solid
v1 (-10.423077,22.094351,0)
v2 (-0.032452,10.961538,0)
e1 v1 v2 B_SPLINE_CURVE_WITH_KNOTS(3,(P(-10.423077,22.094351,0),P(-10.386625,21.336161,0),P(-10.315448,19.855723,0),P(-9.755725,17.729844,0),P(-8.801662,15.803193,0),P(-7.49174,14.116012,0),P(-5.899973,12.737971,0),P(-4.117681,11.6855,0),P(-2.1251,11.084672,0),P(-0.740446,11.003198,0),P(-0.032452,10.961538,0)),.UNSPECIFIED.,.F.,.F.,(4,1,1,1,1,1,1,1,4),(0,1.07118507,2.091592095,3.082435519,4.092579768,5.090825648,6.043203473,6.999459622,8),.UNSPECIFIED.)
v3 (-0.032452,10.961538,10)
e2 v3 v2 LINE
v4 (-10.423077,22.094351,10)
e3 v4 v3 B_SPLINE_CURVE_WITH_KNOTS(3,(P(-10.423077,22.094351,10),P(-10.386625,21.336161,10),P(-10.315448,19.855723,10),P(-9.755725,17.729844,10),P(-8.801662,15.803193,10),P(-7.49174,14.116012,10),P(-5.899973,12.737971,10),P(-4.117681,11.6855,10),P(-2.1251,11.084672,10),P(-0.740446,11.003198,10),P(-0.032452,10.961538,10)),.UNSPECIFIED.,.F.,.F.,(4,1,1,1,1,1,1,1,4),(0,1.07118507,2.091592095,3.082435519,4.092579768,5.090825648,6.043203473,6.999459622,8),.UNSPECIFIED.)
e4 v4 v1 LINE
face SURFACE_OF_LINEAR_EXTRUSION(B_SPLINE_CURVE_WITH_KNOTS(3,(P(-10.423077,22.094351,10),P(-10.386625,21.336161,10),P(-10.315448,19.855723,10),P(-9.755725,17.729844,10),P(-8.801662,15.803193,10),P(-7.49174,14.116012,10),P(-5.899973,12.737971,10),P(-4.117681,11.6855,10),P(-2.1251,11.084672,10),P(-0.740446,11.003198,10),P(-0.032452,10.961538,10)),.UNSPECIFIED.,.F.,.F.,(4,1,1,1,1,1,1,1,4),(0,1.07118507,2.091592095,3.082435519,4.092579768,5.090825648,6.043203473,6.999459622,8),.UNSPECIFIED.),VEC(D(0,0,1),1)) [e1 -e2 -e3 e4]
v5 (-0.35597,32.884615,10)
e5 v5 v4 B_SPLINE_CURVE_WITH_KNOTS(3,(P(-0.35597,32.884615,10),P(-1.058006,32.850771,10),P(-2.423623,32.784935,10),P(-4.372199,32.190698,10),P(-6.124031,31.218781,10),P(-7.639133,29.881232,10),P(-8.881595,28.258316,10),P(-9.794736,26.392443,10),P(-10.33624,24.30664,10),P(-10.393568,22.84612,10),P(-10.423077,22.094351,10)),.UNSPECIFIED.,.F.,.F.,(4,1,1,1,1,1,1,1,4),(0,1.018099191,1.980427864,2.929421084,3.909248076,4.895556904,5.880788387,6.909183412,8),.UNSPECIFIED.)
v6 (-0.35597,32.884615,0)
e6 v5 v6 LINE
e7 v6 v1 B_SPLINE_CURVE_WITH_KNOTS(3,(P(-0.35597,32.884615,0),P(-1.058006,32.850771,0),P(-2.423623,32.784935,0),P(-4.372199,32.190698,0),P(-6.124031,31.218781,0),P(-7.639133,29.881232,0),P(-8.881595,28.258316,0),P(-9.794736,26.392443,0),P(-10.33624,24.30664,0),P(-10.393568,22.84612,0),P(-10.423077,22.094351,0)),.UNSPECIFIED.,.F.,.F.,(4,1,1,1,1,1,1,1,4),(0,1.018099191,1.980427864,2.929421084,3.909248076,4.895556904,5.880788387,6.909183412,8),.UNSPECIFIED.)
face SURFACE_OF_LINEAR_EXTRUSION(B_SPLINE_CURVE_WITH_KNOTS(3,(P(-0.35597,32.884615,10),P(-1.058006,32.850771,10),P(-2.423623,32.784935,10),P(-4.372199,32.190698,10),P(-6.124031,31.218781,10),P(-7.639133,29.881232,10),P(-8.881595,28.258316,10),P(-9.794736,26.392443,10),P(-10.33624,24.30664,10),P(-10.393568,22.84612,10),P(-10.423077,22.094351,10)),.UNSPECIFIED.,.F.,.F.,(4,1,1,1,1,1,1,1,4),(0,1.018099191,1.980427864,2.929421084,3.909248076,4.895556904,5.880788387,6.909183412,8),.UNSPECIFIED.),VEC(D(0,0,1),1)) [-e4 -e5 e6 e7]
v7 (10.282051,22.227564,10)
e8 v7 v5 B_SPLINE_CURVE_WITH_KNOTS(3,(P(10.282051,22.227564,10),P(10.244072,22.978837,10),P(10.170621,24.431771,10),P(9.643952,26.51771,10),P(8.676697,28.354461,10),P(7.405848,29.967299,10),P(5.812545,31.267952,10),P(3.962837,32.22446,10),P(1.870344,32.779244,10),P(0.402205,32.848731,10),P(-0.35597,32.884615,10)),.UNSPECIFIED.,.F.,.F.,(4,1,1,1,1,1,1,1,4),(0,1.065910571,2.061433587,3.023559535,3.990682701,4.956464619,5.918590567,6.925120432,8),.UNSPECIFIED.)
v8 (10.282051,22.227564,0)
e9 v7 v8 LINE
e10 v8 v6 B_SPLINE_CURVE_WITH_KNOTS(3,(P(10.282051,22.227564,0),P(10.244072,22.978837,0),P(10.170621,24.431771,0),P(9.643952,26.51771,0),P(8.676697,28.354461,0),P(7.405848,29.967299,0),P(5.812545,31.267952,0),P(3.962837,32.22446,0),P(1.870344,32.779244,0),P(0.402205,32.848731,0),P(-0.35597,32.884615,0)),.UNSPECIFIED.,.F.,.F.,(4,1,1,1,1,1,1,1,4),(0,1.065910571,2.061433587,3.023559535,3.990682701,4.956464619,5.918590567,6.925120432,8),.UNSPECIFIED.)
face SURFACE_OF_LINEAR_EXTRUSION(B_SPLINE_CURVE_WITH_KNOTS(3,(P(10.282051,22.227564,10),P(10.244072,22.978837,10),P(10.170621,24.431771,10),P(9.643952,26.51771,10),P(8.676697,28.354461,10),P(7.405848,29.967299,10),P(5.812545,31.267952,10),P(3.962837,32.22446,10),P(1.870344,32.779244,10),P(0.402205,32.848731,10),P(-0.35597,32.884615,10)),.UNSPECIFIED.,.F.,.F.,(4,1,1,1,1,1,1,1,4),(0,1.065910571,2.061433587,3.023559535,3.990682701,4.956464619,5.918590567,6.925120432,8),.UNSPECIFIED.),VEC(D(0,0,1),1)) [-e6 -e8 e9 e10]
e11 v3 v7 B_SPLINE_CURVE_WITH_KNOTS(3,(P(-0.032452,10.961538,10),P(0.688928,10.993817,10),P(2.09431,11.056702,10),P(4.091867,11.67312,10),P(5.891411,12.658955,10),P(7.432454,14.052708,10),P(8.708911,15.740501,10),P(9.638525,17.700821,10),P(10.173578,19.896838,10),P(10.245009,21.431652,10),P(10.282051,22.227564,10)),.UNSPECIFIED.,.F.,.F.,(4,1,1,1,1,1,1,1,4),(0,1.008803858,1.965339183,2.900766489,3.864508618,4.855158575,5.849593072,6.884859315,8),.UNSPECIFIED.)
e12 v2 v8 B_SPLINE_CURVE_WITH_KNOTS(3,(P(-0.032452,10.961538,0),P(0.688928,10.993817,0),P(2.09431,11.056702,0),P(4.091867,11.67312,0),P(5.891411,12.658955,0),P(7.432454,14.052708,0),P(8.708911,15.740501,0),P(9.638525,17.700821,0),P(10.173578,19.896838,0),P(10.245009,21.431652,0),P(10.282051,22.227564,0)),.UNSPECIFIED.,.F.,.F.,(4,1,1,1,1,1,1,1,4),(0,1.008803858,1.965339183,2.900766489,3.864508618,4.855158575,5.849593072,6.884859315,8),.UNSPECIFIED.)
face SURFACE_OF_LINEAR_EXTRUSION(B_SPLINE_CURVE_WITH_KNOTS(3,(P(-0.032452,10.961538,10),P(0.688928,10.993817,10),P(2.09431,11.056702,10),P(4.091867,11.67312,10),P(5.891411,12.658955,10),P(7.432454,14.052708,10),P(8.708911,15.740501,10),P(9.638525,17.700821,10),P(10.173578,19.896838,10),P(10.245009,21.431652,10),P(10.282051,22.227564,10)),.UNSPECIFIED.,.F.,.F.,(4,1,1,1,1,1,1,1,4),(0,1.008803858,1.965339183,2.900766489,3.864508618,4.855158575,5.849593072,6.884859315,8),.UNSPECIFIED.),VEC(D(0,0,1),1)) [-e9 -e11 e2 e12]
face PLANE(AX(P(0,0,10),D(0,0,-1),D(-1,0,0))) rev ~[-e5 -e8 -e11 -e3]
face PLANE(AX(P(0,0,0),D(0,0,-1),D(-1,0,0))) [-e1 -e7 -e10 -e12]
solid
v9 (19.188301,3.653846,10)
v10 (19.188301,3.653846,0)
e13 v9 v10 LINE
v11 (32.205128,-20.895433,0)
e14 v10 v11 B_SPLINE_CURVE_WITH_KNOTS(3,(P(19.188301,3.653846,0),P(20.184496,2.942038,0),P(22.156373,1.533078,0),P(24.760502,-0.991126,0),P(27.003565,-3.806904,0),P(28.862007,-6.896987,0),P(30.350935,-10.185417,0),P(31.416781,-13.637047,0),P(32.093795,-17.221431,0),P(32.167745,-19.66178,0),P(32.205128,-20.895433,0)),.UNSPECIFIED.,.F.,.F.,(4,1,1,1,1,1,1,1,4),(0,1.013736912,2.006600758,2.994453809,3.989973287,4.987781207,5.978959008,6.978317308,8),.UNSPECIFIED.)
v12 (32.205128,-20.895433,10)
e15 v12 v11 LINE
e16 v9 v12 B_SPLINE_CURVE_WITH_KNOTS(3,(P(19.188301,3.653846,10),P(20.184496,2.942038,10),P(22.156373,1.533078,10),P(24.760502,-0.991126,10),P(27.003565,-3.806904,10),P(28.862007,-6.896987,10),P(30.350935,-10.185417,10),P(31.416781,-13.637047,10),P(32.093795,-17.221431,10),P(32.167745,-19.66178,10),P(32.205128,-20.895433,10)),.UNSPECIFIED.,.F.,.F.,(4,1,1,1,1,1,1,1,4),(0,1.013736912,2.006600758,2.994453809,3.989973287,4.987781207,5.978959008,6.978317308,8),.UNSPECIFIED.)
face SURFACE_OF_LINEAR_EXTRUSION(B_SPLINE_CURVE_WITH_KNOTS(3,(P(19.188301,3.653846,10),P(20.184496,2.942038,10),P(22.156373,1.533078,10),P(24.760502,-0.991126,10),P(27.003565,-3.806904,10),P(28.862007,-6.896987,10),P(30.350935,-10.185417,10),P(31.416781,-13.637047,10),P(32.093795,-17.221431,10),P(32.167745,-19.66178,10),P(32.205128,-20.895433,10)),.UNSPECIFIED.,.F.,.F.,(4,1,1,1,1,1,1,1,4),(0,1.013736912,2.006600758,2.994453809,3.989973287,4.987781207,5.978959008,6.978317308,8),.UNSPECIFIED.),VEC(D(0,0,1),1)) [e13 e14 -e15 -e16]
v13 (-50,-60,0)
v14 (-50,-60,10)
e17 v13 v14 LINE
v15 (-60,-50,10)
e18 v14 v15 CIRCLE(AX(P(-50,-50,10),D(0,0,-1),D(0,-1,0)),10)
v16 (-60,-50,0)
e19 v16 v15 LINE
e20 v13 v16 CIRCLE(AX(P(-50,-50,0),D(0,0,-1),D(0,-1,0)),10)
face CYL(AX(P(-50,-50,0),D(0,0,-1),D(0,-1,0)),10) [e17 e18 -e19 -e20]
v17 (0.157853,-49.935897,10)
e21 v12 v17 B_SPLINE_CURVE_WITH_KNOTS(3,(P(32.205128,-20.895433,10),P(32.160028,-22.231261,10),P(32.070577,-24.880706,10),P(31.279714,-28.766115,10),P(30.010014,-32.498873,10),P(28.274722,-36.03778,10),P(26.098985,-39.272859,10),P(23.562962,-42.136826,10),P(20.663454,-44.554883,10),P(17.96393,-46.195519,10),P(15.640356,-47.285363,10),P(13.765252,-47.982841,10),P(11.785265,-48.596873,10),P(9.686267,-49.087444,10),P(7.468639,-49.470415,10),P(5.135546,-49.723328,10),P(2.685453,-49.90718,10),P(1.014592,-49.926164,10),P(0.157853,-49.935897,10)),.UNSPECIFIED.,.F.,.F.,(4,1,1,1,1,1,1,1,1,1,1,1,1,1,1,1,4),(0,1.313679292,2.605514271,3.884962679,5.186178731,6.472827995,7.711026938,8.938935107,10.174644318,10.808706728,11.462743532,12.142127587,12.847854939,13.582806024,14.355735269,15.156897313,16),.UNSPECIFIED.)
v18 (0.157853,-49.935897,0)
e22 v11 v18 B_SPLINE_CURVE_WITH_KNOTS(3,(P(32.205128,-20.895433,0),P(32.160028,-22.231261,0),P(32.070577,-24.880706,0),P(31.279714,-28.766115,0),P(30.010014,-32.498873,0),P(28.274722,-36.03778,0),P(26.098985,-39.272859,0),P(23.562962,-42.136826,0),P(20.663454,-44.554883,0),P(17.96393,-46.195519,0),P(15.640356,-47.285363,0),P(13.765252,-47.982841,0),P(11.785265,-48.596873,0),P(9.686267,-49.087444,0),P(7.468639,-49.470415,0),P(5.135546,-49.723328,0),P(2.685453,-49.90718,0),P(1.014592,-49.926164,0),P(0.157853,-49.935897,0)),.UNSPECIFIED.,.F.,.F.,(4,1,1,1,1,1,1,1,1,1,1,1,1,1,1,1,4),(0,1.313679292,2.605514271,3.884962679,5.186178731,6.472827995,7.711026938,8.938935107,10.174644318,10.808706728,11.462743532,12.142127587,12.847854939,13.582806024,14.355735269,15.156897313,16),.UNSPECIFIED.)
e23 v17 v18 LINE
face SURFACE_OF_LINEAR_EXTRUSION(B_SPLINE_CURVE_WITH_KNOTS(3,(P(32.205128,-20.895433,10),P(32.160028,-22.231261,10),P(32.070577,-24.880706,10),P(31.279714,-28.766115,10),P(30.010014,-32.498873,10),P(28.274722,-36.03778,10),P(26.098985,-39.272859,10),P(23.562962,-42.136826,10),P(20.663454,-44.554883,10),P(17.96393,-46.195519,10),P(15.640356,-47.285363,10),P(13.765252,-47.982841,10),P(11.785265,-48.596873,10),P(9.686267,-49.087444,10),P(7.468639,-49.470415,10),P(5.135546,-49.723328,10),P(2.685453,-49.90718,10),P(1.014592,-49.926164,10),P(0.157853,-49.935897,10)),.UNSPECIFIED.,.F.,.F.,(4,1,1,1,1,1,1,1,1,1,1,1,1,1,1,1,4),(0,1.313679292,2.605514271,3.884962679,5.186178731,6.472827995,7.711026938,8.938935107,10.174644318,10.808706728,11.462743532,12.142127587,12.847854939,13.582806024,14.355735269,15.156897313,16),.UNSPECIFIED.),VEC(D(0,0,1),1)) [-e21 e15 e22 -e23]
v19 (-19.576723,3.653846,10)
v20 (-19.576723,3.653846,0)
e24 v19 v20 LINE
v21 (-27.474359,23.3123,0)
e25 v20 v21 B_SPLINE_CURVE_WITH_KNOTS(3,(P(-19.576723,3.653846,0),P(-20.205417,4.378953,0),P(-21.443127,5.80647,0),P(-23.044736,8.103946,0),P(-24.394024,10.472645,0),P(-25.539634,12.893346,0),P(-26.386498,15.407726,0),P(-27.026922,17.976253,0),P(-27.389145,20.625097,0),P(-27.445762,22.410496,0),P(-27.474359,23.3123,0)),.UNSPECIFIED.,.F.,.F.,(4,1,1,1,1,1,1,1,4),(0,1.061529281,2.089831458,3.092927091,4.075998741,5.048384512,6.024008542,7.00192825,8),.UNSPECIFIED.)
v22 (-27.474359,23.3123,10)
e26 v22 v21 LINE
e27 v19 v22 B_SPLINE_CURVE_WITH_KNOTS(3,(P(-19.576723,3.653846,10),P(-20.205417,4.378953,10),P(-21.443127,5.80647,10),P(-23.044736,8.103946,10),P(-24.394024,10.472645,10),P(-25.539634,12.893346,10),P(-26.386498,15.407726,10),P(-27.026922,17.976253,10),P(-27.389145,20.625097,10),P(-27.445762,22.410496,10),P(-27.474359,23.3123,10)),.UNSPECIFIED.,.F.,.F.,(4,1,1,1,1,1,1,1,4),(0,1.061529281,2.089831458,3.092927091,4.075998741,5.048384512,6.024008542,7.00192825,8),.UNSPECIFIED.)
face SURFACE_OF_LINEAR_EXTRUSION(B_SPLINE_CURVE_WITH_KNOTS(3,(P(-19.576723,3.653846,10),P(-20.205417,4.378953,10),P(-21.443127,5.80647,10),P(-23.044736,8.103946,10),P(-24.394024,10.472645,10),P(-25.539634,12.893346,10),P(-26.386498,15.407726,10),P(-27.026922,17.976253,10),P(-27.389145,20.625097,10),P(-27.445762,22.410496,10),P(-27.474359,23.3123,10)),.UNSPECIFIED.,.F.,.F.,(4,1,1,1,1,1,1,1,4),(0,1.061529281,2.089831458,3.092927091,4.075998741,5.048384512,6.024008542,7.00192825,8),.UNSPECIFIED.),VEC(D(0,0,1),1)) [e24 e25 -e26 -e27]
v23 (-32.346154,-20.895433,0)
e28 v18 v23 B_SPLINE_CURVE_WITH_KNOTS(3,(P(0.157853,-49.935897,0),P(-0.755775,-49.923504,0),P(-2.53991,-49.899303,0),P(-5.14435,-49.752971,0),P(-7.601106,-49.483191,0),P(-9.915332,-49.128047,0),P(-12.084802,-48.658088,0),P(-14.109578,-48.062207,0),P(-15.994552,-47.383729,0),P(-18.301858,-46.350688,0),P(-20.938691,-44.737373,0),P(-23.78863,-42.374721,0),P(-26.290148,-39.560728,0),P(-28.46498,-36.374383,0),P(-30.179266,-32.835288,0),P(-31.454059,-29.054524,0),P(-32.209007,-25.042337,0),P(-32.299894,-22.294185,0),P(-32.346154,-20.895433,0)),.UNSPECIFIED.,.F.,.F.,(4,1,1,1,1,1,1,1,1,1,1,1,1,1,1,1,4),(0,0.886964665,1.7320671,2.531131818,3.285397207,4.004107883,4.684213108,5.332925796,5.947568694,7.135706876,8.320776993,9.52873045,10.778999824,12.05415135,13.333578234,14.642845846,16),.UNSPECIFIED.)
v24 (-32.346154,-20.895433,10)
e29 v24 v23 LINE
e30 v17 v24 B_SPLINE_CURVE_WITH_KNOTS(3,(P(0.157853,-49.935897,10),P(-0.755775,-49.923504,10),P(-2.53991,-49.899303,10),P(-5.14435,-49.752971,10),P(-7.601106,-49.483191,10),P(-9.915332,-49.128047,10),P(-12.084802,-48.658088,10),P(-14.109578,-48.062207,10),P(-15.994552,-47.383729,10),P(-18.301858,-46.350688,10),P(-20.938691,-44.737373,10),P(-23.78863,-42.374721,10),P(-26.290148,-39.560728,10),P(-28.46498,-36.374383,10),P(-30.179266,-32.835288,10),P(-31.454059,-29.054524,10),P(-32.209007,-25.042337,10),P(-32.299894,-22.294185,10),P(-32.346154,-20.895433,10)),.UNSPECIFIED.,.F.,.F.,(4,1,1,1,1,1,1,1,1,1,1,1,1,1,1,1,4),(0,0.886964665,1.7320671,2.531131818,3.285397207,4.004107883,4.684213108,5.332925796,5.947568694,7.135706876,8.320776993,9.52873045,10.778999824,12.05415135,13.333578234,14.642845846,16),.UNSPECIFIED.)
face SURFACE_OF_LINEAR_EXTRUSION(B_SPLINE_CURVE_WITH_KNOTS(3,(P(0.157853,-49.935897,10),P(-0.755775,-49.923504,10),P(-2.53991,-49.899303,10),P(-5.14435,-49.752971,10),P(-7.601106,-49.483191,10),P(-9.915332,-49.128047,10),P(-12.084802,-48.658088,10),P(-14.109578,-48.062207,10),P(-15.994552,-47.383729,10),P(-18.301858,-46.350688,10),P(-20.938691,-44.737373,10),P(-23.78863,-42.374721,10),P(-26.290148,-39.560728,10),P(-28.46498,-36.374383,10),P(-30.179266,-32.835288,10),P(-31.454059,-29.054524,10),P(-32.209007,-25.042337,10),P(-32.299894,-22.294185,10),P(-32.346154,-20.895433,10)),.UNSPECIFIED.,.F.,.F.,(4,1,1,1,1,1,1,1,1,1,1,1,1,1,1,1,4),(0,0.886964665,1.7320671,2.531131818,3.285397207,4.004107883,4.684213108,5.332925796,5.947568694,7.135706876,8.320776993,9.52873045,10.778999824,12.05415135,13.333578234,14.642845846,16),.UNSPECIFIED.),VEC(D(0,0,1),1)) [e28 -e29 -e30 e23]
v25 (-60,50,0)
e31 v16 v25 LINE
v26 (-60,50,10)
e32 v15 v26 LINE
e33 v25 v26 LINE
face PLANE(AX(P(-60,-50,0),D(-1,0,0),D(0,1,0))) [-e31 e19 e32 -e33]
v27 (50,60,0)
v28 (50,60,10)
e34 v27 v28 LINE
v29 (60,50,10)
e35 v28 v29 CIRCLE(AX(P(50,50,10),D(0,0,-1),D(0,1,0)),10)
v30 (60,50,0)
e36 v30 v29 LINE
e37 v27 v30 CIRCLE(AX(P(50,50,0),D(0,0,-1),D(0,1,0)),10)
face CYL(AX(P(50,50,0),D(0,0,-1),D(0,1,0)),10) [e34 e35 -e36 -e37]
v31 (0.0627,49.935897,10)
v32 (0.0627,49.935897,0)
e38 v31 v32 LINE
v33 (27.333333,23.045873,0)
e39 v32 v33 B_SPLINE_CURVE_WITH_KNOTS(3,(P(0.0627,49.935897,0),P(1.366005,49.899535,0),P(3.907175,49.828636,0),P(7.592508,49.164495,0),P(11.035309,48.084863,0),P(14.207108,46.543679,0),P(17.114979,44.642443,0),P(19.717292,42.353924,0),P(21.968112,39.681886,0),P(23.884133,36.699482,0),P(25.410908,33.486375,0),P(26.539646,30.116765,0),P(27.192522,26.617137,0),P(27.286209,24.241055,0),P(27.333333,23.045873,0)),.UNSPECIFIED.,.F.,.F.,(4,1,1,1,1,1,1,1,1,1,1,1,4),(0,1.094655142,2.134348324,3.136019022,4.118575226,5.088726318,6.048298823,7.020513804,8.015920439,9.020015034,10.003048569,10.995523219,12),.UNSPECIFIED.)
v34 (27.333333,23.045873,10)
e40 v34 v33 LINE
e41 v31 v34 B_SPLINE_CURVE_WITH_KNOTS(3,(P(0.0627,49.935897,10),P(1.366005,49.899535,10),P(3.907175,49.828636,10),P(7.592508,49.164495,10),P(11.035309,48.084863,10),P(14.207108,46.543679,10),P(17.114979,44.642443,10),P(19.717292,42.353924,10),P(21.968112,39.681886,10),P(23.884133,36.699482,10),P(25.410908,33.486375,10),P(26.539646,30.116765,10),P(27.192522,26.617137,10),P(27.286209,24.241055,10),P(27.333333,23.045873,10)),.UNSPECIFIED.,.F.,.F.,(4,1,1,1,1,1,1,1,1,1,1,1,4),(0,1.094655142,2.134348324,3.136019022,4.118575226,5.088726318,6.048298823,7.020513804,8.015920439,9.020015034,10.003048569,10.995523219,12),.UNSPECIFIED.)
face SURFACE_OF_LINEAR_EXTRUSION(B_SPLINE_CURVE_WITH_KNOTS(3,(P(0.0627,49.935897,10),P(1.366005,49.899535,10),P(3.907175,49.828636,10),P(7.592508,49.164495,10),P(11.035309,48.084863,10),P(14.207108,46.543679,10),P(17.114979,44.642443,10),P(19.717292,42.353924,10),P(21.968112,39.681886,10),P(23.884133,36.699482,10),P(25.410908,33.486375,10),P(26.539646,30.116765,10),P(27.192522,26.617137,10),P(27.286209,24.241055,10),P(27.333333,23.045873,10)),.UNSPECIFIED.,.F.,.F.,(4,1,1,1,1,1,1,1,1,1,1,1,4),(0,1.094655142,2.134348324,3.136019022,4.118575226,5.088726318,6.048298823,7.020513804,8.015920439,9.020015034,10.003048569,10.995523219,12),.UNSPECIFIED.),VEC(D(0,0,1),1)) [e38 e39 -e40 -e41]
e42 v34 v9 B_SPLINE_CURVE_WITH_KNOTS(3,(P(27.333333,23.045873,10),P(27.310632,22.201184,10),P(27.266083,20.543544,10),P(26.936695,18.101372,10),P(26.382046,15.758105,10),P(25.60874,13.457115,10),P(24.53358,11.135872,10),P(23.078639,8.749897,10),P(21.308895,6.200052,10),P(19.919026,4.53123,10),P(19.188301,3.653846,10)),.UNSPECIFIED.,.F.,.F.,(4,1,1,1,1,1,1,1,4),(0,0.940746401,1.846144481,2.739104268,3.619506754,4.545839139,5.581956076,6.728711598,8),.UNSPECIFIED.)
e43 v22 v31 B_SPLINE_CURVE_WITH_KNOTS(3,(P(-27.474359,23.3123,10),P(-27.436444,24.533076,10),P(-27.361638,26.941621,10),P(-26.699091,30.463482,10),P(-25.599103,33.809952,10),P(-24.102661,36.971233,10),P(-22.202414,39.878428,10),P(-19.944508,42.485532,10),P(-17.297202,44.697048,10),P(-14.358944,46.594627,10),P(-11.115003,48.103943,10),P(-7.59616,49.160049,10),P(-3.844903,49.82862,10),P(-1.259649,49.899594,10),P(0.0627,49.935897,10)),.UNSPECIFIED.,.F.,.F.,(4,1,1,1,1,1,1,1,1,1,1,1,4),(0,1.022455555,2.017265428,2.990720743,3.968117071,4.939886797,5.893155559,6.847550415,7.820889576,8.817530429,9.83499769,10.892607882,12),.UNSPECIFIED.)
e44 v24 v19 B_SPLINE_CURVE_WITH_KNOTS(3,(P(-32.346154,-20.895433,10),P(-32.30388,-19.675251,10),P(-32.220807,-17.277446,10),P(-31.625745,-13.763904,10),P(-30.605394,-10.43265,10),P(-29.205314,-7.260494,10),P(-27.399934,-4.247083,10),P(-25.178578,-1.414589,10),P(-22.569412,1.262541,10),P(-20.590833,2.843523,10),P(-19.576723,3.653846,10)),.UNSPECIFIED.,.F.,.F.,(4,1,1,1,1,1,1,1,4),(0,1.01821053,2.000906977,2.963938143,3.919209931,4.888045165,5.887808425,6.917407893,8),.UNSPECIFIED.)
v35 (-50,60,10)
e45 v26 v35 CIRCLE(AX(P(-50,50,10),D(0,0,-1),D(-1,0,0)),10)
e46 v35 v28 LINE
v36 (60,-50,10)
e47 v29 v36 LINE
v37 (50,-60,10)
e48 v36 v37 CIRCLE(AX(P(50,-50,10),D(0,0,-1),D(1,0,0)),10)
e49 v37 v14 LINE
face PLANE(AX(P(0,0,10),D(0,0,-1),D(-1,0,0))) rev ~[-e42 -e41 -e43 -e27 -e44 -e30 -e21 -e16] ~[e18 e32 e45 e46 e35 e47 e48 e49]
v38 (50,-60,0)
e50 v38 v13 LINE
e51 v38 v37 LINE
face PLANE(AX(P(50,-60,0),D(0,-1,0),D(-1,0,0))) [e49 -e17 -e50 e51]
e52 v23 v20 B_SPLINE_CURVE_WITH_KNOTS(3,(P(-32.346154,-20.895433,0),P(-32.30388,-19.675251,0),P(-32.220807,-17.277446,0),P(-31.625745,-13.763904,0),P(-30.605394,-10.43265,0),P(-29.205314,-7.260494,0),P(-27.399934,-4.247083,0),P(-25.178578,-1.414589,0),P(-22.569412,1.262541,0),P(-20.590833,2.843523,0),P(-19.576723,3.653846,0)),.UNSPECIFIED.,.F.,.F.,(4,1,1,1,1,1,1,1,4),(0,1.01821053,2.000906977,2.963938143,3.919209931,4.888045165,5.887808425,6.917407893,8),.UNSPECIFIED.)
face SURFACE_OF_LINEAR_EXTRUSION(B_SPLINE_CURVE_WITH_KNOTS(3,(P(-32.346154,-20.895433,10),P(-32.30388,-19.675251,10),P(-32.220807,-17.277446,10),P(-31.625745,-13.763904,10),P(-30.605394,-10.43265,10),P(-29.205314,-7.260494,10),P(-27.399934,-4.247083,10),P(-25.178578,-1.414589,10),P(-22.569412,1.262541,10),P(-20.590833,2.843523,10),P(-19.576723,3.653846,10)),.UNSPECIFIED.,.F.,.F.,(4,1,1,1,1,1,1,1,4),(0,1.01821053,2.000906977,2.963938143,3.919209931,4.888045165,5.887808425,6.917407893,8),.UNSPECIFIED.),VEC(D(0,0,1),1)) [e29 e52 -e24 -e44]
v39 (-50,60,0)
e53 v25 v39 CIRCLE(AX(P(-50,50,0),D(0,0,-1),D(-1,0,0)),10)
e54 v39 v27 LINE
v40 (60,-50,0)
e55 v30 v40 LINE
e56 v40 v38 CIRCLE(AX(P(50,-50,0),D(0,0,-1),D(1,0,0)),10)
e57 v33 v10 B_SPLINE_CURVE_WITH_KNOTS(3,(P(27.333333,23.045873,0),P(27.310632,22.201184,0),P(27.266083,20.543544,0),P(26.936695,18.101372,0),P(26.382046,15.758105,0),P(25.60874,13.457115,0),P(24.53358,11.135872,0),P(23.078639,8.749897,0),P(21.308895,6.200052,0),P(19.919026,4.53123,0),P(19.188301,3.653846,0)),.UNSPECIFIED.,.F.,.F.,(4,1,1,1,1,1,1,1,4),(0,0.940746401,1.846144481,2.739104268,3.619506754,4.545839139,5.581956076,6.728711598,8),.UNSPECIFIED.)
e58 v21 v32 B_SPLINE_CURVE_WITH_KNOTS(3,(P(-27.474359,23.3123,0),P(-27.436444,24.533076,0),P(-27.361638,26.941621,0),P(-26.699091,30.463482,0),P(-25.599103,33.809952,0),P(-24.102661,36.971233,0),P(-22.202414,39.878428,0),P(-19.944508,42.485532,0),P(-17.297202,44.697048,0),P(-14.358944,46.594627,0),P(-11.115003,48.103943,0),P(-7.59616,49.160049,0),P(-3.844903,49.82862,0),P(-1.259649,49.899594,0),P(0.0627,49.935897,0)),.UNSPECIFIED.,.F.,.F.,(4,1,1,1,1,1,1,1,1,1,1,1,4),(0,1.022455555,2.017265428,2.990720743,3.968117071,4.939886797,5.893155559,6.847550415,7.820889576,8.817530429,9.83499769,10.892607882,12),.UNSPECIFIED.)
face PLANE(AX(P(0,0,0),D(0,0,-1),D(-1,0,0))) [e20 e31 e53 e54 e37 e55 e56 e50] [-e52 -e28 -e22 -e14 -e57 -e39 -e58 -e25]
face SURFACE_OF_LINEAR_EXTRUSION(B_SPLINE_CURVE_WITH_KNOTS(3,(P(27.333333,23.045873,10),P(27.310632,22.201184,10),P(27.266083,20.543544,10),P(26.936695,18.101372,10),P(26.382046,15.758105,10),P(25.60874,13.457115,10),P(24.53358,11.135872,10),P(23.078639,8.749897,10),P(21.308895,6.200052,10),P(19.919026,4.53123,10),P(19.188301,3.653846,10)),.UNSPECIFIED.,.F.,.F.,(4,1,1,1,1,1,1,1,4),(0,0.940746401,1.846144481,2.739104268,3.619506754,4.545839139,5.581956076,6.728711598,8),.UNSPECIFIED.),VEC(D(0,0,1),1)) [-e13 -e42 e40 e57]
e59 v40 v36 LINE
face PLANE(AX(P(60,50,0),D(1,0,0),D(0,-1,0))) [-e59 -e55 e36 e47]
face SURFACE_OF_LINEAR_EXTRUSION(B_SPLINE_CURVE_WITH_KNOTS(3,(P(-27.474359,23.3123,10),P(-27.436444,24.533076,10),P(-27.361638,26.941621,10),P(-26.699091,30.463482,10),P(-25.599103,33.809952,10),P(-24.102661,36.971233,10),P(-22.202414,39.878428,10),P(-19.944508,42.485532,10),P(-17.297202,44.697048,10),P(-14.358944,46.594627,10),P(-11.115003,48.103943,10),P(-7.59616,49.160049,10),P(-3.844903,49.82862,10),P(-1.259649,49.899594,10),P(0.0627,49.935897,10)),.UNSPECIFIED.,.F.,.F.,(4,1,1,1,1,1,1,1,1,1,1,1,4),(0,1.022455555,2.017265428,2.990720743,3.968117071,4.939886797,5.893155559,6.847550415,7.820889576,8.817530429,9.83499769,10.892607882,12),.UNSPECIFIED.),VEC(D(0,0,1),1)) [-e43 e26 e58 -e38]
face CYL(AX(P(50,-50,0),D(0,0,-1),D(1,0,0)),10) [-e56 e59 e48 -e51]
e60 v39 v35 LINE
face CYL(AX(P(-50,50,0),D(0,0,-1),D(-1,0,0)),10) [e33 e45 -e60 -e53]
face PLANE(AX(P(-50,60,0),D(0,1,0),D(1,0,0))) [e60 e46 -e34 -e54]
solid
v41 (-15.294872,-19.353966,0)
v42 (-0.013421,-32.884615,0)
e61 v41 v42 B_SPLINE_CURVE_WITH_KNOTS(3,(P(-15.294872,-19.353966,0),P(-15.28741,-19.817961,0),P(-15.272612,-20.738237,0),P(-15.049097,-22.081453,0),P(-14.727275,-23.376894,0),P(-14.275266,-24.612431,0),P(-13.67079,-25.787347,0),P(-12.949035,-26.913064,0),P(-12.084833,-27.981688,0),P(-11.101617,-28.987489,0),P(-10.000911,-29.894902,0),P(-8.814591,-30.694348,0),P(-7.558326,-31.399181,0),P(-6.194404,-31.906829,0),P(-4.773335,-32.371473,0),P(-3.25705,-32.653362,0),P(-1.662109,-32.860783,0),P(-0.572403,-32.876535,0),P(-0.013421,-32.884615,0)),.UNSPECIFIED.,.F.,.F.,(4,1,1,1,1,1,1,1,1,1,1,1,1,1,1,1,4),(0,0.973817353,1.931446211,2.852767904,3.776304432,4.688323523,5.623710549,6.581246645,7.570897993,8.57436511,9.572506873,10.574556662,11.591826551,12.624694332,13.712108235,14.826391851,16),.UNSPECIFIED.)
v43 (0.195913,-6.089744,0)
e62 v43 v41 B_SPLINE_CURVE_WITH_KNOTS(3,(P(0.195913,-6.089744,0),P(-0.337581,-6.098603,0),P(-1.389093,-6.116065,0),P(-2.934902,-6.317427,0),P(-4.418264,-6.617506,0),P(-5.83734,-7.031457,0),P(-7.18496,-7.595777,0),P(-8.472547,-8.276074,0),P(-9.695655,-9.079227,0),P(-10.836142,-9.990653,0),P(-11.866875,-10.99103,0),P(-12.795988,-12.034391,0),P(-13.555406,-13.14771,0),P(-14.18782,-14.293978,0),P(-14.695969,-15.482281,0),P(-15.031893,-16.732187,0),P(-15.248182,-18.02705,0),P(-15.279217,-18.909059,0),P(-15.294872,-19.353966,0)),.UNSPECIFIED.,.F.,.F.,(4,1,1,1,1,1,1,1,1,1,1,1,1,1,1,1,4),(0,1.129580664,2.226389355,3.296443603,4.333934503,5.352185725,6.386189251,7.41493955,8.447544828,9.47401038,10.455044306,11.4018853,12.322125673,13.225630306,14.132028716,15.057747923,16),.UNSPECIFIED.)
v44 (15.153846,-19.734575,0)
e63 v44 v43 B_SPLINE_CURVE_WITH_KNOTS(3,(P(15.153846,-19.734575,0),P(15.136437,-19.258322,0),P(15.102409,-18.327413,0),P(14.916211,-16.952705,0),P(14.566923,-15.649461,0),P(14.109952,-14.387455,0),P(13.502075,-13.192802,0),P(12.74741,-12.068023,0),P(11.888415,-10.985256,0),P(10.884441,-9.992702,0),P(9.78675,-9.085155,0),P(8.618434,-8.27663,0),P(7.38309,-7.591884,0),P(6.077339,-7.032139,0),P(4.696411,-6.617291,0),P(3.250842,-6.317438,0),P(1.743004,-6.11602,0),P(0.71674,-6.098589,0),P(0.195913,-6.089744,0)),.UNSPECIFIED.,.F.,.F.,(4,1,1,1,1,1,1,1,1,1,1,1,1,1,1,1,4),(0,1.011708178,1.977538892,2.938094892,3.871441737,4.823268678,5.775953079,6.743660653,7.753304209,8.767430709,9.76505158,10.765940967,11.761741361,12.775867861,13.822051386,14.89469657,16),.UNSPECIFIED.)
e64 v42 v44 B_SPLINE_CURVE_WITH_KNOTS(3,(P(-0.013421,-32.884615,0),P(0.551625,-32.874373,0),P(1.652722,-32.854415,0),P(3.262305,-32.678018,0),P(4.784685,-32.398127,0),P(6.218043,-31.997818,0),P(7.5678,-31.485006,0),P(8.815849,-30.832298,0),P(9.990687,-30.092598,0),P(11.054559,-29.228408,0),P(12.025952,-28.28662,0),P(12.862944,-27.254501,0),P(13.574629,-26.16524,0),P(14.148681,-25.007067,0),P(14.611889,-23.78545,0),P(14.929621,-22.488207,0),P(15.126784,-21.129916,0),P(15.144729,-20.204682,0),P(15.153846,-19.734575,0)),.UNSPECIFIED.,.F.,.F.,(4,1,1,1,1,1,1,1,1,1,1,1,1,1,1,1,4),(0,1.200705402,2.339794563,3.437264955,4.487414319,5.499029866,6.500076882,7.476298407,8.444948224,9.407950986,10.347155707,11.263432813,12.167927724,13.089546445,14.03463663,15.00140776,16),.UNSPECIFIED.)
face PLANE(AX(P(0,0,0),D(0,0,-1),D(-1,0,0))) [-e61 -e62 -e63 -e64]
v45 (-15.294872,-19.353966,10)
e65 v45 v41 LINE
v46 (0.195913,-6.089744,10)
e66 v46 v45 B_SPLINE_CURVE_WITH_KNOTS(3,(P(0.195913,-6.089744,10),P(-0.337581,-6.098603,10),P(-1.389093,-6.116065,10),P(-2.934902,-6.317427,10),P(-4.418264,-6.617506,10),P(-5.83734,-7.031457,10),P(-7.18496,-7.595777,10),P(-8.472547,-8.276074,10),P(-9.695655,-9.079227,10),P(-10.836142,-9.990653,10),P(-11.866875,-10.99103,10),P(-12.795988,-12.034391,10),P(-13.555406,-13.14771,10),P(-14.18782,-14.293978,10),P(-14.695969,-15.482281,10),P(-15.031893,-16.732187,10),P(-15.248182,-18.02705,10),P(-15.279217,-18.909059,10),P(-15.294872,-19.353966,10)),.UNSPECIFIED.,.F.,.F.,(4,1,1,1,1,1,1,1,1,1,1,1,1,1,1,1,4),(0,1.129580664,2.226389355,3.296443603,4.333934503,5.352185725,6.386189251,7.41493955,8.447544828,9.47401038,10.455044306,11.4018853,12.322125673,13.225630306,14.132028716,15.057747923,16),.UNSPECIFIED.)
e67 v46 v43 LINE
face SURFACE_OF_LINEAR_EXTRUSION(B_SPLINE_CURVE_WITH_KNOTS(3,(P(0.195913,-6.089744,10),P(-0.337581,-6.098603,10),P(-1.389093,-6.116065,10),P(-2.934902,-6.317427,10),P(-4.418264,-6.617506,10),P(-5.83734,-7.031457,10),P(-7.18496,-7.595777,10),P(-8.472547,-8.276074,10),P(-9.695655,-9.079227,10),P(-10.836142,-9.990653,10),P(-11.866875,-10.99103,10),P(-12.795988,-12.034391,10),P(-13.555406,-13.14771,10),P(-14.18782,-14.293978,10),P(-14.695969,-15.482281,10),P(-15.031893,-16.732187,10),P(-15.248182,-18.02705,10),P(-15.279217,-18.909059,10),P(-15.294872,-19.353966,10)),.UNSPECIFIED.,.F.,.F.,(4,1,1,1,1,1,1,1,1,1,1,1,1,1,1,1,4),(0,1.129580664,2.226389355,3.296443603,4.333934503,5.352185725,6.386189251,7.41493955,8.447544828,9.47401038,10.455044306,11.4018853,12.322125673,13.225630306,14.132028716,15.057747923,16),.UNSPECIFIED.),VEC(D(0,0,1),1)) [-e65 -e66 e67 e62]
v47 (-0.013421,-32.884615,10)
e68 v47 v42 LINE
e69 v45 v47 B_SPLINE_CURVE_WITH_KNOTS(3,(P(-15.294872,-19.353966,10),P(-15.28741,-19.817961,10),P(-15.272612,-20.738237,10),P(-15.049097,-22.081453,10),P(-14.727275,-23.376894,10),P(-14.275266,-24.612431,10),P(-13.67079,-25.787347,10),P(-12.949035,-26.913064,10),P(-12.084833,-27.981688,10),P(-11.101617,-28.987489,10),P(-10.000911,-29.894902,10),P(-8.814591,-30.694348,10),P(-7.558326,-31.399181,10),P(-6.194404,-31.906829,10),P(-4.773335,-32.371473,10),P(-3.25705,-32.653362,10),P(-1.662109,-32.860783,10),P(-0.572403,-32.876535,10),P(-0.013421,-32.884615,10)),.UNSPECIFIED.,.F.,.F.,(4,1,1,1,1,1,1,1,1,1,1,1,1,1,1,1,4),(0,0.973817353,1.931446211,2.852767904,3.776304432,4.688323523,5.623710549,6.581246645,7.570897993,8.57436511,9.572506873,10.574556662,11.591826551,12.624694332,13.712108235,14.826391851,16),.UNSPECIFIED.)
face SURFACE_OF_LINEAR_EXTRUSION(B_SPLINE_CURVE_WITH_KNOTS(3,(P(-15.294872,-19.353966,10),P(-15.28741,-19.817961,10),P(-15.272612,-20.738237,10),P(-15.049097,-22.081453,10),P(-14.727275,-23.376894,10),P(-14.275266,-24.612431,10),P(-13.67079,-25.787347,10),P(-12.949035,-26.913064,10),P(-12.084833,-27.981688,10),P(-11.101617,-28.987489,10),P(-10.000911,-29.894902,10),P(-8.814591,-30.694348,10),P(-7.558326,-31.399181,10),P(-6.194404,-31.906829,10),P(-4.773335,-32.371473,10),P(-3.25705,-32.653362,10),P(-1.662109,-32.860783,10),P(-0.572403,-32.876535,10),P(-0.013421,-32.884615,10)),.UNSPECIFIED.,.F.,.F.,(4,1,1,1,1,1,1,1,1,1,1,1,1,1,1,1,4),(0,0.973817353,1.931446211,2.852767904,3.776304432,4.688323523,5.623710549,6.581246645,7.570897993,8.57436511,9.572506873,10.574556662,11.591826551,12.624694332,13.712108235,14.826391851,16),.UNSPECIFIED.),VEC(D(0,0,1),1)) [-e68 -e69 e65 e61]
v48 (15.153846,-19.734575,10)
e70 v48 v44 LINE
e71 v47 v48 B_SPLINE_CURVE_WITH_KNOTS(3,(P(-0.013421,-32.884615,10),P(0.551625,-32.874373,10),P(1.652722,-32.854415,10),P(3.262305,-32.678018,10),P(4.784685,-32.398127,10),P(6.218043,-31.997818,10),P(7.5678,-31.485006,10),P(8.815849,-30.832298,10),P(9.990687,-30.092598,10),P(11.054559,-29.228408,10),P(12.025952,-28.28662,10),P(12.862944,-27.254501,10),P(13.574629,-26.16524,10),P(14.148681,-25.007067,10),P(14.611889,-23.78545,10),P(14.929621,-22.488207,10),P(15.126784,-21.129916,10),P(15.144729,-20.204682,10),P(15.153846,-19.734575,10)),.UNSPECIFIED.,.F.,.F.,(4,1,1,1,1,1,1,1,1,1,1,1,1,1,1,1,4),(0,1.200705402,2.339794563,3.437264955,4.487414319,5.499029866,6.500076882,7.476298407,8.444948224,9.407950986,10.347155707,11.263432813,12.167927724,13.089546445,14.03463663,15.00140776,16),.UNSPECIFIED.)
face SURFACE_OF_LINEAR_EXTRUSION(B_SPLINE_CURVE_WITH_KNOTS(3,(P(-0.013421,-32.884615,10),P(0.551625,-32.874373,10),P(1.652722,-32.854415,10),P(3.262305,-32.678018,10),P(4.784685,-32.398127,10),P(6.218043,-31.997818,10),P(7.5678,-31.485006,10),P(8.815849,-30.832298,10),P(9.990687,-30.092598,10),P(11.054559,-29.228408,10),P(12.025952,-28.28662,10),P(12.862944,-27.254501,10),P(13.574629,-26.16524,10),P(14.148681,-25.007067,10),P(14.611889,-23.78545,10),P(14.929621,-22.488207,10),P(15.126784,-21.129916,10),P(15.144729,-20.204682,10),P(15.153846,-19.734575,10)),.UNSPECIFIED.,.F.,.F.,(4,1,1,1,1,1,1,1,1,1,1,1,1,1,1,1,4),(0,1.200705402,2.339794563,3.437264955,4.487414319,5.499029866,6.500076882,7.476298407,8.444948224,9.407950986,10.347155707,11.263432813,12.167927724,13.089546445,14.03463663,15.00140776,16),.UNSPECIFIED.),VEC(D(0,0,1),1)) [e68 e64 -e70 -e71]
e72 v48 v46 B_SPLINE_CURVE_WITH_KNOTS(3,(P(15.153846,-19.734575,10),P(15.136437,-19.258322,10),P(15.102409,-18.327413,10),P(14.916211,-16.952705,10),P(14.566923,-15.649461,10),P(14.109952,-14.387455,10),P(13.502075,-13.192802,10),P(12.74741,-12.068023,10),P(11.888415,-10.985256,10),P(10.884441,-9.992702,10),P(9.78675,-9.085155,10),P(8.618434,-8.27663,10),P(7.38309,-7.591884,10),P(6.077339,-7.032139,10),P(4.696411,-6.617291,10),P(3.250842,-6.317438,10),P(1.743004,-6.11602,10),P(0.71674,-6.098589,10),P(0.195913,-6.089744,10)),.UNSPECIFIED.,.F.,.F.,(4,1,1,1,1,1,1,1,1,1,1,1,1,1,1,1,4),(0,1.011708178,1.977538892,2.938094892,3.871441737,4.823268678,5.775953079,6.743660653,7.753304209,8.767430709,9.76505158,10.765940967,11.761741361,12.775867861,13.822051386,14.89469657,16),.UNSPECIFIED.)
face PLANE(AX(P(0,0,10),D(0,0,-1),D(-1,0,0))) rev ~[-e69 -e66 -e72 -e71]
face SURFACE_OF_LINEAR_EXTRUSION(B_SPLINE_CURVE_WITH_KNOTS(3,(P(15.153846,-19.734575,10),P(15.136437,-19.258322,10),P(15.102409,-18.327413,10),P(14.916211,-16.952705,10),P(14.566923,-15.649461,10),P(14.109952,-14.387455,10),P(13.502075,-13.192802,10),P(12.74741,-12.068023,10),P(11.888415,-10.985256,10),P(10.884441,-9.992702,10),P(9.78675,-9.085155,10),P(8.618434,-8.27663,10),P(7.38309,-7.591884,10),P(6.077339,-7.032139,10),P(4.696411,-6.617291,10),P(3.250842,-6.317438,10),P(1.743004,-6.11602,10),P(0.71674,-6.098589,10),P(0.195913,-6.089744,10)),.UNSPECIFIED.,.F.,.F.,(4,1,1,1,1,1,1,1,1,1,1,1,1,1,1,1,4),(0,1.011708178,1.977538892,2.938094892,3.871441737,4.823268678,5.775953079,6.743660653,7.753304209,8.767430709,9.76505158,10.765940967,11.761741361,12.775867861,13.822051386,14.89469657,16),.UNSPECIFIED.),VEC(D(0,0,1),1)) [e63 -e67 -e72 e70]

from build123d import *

# Parameters (mm, degrees)
BOSS_EXTRUDE1_DEPTH = 10
CUT_EXTRUDE7_DEPTH  = 10


with BuildPart() as part:
    # Sketch1 → Boss-Extrude1 (new body)
    with BuildSketch(Plane.XY):
        with BuildLine():
            Line((-50, 60), (50, 60))
            ThreePointArc((50, 60), (57.071067812, 57.071067812), (60, 50))
            Line((60, 50), (60, -50))
            ThreePointArc((60, -50), (57.071067812, -57.071067812), (50, -60))
            Line((50, -60), (-50, -60))
            ThreePointArc((-50, -60), (-57.071067812, -57.071067812), (-60, -50))
            Line((-60, -50), (-60, 50))
            ThreePointArc((-60, 50), (-57.071067812, 57.071067812), (-50, 60))
        make_face()
    extrude(amount=BOSS_EXTRUDE1_DEPTH)

    # Sketch2 → Cut-Extrude7 (cut)
    with BuildSketch(Plane.XY.offset(10)):
        with BuildLine():
            add(Edge.make_bspline(
                [(19.188301282, 3.653846154), (20.184495938, 2.942038158), (22.156373381, 1.53307845), (24.760502173, -0.991125553), (27.003564951, -3.806904393), (28.862007101, -6.896986644), (30.350934887, -10.185417286), (31.416781282, -13.637046931), (32.093794674, -17.221431342), (32.167744744, -19.661780222), (32.205128205, -20.895432692)],
                knots=[0, 0, 0, 0, 1.013736912, 2.006600758, 2.994453809, 3.989973287, 4.987781207, 5.978959008, 6.978317308, 8, 8, 8, 8], degree=3))
            add(Edge.make_bspline(
                [(32.205128205, -20.895432692), (32.160027904, -22.231261178), (32.070577244, -24.880705531), (31.279713876, -28.766115268), (30.010014477, -32.498873463), (28.274722464, -36.037779916), (26.098985434, -39.272858958), (23.56296157, -42.136825847), (20.663454018, -44.554883143), (17.963930355, -46.195519421), (15.640356037, -47.285363085), (13.765251942, -47.98284115), (11.785265286, -48.596872991), (9.686267137, -49.087443687), (7.468639207, -49.47041463), (5.135546282, -49.723327923), (2.685452566, -49.907180476), (1.014592239, -49.926163712), (0.157852564, -49.935897436)],
                knots=[0, 0, 0, 0, 1.313679292, 2.605514271, 3.884962679, 5.186178731, 6.472827995, 7.711026938, 8.938935107, 10.174644318, 10.808706728, 11.462743532, 12.142127587, 12.847854939, 13.582806024, 14.355735269, 15.156897313, 16, 16, 16, 16], degree=3))
            add(Edge.make_bspline(
                [(0.157852564, -49.935897436), (-0.75577531, -49.923504468), (-2.539910399, -49.899303445), (-5.144350214, -49.752971256), (-7.601106371, -49.483191446), (-9.915332327, -49.128047212), (-12.084801555, -48.658088465), (-14.109578312, -48.062206506), (-15.994551648, -47.383728602), (-18.301858023, -46.350687769), (-20.938690793, -44.737373284), (-23.788630171, -42.374720743), (-26.290147794, -39.560727744), (-28.464980457, -36.374382651), (-30.179265543, -32.835287864), (-31.454059018, -29.054524044), (-32.209006815, -25.042336581), (-32.299894084, -22.294185431), (-32.346153846, -20.895432692)],
                knots=[0, 0, 0, 0, 0.886964665, 1.7320671, 2.531131818, 3.285397207, 4.004107883, 4.684213108, 5.332925796, 5.947568694, 7.135706876, 8.320776993, 9.52873045, 10.778999824, 12.05415135, 13.333578234, 14.642845846, 16, 16, 16, 16], degree=3))
            add(Edge.make_bspline(
                [(-32.346153846, -20.895432692), (-32.303880176, -19.675251034), (-32.220807296, -17.277446336), (-31.625745014, -13.763904108), (-30.605394029, -10.432650346), (-29.205313672, -7.260494213), (-27.399933808, -4.247082748), (-25.178578493, -1.414588745), (-22.569412256, 1.262540859), (-20.590832741, 2.843522672), (-19.576722756, 3.653846154)],
                knots=[0, 0, 0, 0, 1.01821053, 2.000906977, 2.963938143, 3.919209931, 4.888045165, 5.887808425, 6.917407893, 8, 8, 8, 8], degree=3))
            add(Edge.make_bspline(
                [(-19.576722756, 3.653846154), (-20.205417157, 4.378953164), (-21.44312709, 5.80647049), (-23.044735918, 8.103945857), (-24.394023915, 10.472645366), (-25.539633666, 12.893345782), (-26.3864976, 15.40772552), (-27.02692196, 17.97625338), (-27.389145357, 20.62509678), (-27.445761968, 22.410495947), (-27.474358974, 23.312299679)],
                knots=[0, 0, 0, 0, 1.061529281, 2.089831458, 3.092927091, 4.075998741, 5.048384512, 6.024008542, 7.00192825, 8, 8, 8, 8], degree=3))
            add(Edge.make_bspline(
                [(-27.474358974, 23.312299679), (-27.436443694, 24.533076074), (-27.361638307, 26.94162088), (-26.699091348, 30.463482054), (-25.599102515, 33.809952101), (-24.102661321, 36.971233071), (-22.202413573, 39.878428225), (-19.944507855, 42.485532392), (-17.297202452, 44.697048355), (-14.358943535, 46.594626663), (-11.11500316, 48.10394285), (-7.596159511, 49.160049282), (-3.844903138, 49.828620337), (-1.259649221, 49.899594412), (0.062700321, 49.935897436)],
                knots=[0, 0, 0, 0, 1.022455555, 2.017265428, 2.990720743, 3.968117071, 4.939886797, 5.893155559, 6.847550415, 7.820889576, 8.817530429, 9.83499769, 10.892607882, 12, 12, 12, 12], degree=3))
            add(Edge.make_bspline(
                [(0.062700321, 49.935897436), (1.366004574, 49.899534999), (3.907174979, 49.82863586), (7.592508041, 49.16449477), (11.035308794, 48.08486337), (14.207107804, 46.54367878), (17.114979409, 44.642443103), (19.717291845, 42.353924223), (21.96811219, 39.681885896), (23.884133204, 36.699482457), (25.410907526, 33.48637487), (26.539646383, 30.116764519), (27.192522271, 26.617136868), (27.286208621, 24.241054818), (27.333333333, 23.045873397)],
                knots=[0, 0, 0, 0, 1.094655142, 2.134348324, 3.136019022, 4.118575226, 5.088726318, 6.048298823, 7.020513804, 8.015920439, 9.020015034, 10.003048569, 10.995523219, 12, 12, 12, 12], degree=3))
            add(Edge.make_bspline(
                [(27.333333333, 23.045873397), (27.310632226, 22.201183803), (27.266083001, 20.543543624), (26.936695016, 18.101371831), (26.382046073, 15.758104709), (25.608739865, 13.457115137), (24.533580254, 11.135872394), (23.07863932, 8.749897255), (21.308894722, 6.200051998), (19.91902587, 4.531230372), (19.188301282, 3.653846154)],
                knots=[0, 0, 0, 0, 0.940746401, 1.846144481, 2.739104268, 3.619506754, 4.545839139, 5.581956076, 6.728711598, 8, 8, 8, 8], degree=3))
        make_face()
        with BuildLine():
            add(Edge.make_bspline(
                [(-0.355969551, 32.884615385), (-1.058006441, 32.850770709), (-2.423623299, 32.784935337), (-4.372198645, 32.190698207), (-6.124031459, 31.218781122), (-7.639132699, 29.881231936), (-8.881594696, 28.258316376), (-9.794735999, 26.3924433), (-10.336239585, 24.306639671), (-10.39356827, 22.846120439), (-10.423076923, 22.094350962)],
                knots=[0, 0, 0, 0, 1.018099191, 1.980427864, 2.929421084, 3.909248076, 4.895556904, 5.880788387, 6.909183412, 8, 8, 8, 8], degree=3))
            add(Edge.make_bspline(
                [(-10.423076923, 22.094350962), (-10.386624716, 21.33616122), (-10.315448269, 19.855722672), (-9.755725432, 17.729843978), (-8.801662396, 15.803193319), (-7.491740304, 14.116012106), (-5.899972828, 12.737971286), (-4.117681218, 11.685500408), (-2.12509953, 11.084672073), (-0.740446478, 11.003197614), (-0.032451923, 10.961538462)],
                knots=[0, 0, 0, 0, 1.07118507, 2.091592095, 3.082435519, 4.092579768, 5.090825648, 6.043203473, 6.999459622, 8, 8, 8, 8], degree=3))
            add(Edge.make_bspline(
                [(-0.032451923, 10.961538462), (0.68892764, 10.993817162), (2.09431037, 11.056702125), (4.091867272, 11.673120279), (5.891410758, 12.658955484), (7.432453879, 14.052708358), (8.708910985, 15.740500597), (9.638525218, 17.700821167), (10.173577589, 19.896838181), (10.245008972, 21.43165248), (10.282051282, 22.227564103)],
                knots=[0, 0, 0, 0, 1.008803858, 1.965339183, 2.900766489, 3.864508618, 4.855158575, 5.849593072, 6.884859315, 8, 8, 8, 8], degree=3))
            add(Edge.make_bspline(
                [(10.282051282, 22.227564103), (10.244071952, 22.978836606), (10.170621263, 24.431771227), (9.64395171, 26.517710168), (8.676696729, 28.354461405), (7.405848472, 29.967299003), (5.812545346, 31.267952197), (3.962837117, 32.22446041), (1.870344264, 32.77924443), (0.402205391, 32.848731127), (-0.355969551, 32.884615385)],
                knots=[0, 0, 0, 0, 1.065910571, 2.061433587, 3.023559535, 3.990682701, 4.956464619, 5.918590567, 6.925120432, 8, 8, 8, 8], degree=3))
        make_face(mode=Mode.SUBTRACT)
        with BuildLine():
            add(Edge.make_bspline(
                [(0.195913462, -6.08974359), (-0.337581437, -6.098603068), (-1.389093206, -6.11606499), (-2.934901917, -6.317427104), (-4.418264236, -6.617506465), (-5.837339822, -7.031457481), (-7.184959587, -7.595776876), (-8.472546866, -8.276074338), (-9.695654923, -9.07922681), (-10.836141641, -9.990653065), (-11.866875136, -10.991030217), (-12.795987618, -12.034391147), (-13.555405894, -13.14770957), (-14.187820258, -14.29397844), (-14.695968788, -15.482281302), (-15.031893362, -16.732187052), (-15.248181767, -18.027050466), (-15.279216891, -18.909058919), (-15.294871795, -19.353966346)],
                knots=[0, 0, 0, 0, 1.129580664, 2.226389355, 3.296443603, 4.333934503, 5.352185725, 6.386189251, 7.41493955, 8.447544828, 9.47401038, 10.455044306, 11.4018853, 12.322125673, 13.225630306, 14.132028716, 15.057747923, 16, 16, 16, 16], degree=3))
            add(Edge.make_bspline(
                [(-15.294871795, -19.353966346), (-15.287410391, -19.817960864), (-15.272611619, -20.738236572), (-15.049096904, -22.081453305), (-14.727275196, -23.376893602), (-14.275266318, -24.612431357), (-13.670790334, -25.787347241), (-12.94903503, -26.913063976), (-12.084833098, -27.981687845), (-11.101617086, -28.987489278), (-10.000911129, -29.894901702), (-8.814591332, -30.694347869), (-7.558326263, -31.399180515), (-6.194403741, -31.906828917), (-4.773335261, -32.371473327), (-3.257049947, -32.653361907), (-1.662109023, -32.860783346), (-0.572402607, -32.876535224), (-0.013421474, -32.884615385)],
                knots=[0, 0, 0, 0, 0.973817353, 1.931446211, 2.852767904, 3.776304432, 4.688323523, 5.623710549, 6.581246645, 7.570897993, 8.57436511, 9.572506873, 10.574556662, 11.591826551, 12.624694332, 13.712108235, 14.826391851, 16, 16, 16, 16], degree=3))
            add(Edge.make_bspline(
                [(-0.013421474, -32.884615385), (0.551625294, -32.874373242), (1.652722495, -32.854414549), (3.262305187, -32.6780175), (4.784684748, -32.398126701), (6.218042765, -31.997817659), (7.567799531, -31.485005829), (8.815849199, -30.83229785), (9.990686817, -30.092598077), (11.054558867, -29.228407519), (12.02595247, -28.286620196), (12.862944436, -27.254501376), (13.574629427, -26.165240273), (14.148680931, -25.00706743), (14.611888942, -23.785449885), (14.929620567, -22.488206806), (15.126784469, -21.129916212), (15.144728747, -20.204682424), (15.153846154, -19.734575321)],
                knots=[0, 0, 0, 0, 1.200705402, 2.339794563, 3.437264955, 4.487414319, 5.499029866, 6.500076882, 7.476298407, 8.444948224, 9.407950986, 10.347155707, 11.263432813, 12.167927724, 13.089546445, 14.03463663, 15.00140776, 16, 16, 16, 16], degree=3))
            add(Edge.make_bspline(
                [(15.153846154, -19.734575321), (15.136437283, -19.258322238), (15.102408974, -18.327412501), (14.91621108, -16.952705339), (14.566922827, -15.649461454), (14.109951762, -14.387455358), (13.502075314, -13.192802145), (12.747409865, -12.068023142), (11.888415348, -10.985256241), (10.88444054, -9.992702282), (9.78675022, -9.085155172), (8.618433819, -8.276630316), (7.383089913, -7.591884327), (6.077339418, -7.032138508), (4.696411422, -6.617291072), (3.250842467, -6.317437648), (1.743003817, -6.116019921), (0.716739841, -6.09858949), (0.195913462, -6.08974359)],
                knots=[0, 0, 0, 0, 1.011708178, 1.977538892, 2.938094892, 3.871441737, 4.823268678, 5.775953079, 6.743660653, 7.753304209, 8.767430709, 9.76505158, 10.765940967, 11.761741361, 12.775867861, 13.822051386, 14.89469657, 16, 16, 16, 16], degree=3))
        make_face(mode=Mode.SUBTRACT)
    extrude(amount=-CUT_EXTRUDE7_DEPTH, mode=Mode.SUBTRACT)


with BuildPart() as cut_extrude7_piece_1:
    # of the separate pieces the step leaves, piece 1, a body of its own (cut_extrude7_pieces)
    add(part.part.solids().sort_by_distance((-50, 60, 0))[0])


with BuildPart() as cut_extrude7_piece_2:
    # of the separate pieces the step leaves, piece 2, a body of its own (cut_extrude7_pieces)
    add(part.part.solids().sort_by_distance((0.195913462, -6.08974359, 0))[0])


with BuildPart() as cut_extrude7_piece_3:
    # of the separate pieces the step leaves, piece 3, a body of its own (cut_extrude7_pieces)
    add(part.part.solids().sort_by_distance((-0.355969551, 32.884615385, 0))[0])


solid = Compound([cut_extrude7_piece_1.part, cut_extrude7_piece_2.part, cut_extrude7_piece_3.part])
